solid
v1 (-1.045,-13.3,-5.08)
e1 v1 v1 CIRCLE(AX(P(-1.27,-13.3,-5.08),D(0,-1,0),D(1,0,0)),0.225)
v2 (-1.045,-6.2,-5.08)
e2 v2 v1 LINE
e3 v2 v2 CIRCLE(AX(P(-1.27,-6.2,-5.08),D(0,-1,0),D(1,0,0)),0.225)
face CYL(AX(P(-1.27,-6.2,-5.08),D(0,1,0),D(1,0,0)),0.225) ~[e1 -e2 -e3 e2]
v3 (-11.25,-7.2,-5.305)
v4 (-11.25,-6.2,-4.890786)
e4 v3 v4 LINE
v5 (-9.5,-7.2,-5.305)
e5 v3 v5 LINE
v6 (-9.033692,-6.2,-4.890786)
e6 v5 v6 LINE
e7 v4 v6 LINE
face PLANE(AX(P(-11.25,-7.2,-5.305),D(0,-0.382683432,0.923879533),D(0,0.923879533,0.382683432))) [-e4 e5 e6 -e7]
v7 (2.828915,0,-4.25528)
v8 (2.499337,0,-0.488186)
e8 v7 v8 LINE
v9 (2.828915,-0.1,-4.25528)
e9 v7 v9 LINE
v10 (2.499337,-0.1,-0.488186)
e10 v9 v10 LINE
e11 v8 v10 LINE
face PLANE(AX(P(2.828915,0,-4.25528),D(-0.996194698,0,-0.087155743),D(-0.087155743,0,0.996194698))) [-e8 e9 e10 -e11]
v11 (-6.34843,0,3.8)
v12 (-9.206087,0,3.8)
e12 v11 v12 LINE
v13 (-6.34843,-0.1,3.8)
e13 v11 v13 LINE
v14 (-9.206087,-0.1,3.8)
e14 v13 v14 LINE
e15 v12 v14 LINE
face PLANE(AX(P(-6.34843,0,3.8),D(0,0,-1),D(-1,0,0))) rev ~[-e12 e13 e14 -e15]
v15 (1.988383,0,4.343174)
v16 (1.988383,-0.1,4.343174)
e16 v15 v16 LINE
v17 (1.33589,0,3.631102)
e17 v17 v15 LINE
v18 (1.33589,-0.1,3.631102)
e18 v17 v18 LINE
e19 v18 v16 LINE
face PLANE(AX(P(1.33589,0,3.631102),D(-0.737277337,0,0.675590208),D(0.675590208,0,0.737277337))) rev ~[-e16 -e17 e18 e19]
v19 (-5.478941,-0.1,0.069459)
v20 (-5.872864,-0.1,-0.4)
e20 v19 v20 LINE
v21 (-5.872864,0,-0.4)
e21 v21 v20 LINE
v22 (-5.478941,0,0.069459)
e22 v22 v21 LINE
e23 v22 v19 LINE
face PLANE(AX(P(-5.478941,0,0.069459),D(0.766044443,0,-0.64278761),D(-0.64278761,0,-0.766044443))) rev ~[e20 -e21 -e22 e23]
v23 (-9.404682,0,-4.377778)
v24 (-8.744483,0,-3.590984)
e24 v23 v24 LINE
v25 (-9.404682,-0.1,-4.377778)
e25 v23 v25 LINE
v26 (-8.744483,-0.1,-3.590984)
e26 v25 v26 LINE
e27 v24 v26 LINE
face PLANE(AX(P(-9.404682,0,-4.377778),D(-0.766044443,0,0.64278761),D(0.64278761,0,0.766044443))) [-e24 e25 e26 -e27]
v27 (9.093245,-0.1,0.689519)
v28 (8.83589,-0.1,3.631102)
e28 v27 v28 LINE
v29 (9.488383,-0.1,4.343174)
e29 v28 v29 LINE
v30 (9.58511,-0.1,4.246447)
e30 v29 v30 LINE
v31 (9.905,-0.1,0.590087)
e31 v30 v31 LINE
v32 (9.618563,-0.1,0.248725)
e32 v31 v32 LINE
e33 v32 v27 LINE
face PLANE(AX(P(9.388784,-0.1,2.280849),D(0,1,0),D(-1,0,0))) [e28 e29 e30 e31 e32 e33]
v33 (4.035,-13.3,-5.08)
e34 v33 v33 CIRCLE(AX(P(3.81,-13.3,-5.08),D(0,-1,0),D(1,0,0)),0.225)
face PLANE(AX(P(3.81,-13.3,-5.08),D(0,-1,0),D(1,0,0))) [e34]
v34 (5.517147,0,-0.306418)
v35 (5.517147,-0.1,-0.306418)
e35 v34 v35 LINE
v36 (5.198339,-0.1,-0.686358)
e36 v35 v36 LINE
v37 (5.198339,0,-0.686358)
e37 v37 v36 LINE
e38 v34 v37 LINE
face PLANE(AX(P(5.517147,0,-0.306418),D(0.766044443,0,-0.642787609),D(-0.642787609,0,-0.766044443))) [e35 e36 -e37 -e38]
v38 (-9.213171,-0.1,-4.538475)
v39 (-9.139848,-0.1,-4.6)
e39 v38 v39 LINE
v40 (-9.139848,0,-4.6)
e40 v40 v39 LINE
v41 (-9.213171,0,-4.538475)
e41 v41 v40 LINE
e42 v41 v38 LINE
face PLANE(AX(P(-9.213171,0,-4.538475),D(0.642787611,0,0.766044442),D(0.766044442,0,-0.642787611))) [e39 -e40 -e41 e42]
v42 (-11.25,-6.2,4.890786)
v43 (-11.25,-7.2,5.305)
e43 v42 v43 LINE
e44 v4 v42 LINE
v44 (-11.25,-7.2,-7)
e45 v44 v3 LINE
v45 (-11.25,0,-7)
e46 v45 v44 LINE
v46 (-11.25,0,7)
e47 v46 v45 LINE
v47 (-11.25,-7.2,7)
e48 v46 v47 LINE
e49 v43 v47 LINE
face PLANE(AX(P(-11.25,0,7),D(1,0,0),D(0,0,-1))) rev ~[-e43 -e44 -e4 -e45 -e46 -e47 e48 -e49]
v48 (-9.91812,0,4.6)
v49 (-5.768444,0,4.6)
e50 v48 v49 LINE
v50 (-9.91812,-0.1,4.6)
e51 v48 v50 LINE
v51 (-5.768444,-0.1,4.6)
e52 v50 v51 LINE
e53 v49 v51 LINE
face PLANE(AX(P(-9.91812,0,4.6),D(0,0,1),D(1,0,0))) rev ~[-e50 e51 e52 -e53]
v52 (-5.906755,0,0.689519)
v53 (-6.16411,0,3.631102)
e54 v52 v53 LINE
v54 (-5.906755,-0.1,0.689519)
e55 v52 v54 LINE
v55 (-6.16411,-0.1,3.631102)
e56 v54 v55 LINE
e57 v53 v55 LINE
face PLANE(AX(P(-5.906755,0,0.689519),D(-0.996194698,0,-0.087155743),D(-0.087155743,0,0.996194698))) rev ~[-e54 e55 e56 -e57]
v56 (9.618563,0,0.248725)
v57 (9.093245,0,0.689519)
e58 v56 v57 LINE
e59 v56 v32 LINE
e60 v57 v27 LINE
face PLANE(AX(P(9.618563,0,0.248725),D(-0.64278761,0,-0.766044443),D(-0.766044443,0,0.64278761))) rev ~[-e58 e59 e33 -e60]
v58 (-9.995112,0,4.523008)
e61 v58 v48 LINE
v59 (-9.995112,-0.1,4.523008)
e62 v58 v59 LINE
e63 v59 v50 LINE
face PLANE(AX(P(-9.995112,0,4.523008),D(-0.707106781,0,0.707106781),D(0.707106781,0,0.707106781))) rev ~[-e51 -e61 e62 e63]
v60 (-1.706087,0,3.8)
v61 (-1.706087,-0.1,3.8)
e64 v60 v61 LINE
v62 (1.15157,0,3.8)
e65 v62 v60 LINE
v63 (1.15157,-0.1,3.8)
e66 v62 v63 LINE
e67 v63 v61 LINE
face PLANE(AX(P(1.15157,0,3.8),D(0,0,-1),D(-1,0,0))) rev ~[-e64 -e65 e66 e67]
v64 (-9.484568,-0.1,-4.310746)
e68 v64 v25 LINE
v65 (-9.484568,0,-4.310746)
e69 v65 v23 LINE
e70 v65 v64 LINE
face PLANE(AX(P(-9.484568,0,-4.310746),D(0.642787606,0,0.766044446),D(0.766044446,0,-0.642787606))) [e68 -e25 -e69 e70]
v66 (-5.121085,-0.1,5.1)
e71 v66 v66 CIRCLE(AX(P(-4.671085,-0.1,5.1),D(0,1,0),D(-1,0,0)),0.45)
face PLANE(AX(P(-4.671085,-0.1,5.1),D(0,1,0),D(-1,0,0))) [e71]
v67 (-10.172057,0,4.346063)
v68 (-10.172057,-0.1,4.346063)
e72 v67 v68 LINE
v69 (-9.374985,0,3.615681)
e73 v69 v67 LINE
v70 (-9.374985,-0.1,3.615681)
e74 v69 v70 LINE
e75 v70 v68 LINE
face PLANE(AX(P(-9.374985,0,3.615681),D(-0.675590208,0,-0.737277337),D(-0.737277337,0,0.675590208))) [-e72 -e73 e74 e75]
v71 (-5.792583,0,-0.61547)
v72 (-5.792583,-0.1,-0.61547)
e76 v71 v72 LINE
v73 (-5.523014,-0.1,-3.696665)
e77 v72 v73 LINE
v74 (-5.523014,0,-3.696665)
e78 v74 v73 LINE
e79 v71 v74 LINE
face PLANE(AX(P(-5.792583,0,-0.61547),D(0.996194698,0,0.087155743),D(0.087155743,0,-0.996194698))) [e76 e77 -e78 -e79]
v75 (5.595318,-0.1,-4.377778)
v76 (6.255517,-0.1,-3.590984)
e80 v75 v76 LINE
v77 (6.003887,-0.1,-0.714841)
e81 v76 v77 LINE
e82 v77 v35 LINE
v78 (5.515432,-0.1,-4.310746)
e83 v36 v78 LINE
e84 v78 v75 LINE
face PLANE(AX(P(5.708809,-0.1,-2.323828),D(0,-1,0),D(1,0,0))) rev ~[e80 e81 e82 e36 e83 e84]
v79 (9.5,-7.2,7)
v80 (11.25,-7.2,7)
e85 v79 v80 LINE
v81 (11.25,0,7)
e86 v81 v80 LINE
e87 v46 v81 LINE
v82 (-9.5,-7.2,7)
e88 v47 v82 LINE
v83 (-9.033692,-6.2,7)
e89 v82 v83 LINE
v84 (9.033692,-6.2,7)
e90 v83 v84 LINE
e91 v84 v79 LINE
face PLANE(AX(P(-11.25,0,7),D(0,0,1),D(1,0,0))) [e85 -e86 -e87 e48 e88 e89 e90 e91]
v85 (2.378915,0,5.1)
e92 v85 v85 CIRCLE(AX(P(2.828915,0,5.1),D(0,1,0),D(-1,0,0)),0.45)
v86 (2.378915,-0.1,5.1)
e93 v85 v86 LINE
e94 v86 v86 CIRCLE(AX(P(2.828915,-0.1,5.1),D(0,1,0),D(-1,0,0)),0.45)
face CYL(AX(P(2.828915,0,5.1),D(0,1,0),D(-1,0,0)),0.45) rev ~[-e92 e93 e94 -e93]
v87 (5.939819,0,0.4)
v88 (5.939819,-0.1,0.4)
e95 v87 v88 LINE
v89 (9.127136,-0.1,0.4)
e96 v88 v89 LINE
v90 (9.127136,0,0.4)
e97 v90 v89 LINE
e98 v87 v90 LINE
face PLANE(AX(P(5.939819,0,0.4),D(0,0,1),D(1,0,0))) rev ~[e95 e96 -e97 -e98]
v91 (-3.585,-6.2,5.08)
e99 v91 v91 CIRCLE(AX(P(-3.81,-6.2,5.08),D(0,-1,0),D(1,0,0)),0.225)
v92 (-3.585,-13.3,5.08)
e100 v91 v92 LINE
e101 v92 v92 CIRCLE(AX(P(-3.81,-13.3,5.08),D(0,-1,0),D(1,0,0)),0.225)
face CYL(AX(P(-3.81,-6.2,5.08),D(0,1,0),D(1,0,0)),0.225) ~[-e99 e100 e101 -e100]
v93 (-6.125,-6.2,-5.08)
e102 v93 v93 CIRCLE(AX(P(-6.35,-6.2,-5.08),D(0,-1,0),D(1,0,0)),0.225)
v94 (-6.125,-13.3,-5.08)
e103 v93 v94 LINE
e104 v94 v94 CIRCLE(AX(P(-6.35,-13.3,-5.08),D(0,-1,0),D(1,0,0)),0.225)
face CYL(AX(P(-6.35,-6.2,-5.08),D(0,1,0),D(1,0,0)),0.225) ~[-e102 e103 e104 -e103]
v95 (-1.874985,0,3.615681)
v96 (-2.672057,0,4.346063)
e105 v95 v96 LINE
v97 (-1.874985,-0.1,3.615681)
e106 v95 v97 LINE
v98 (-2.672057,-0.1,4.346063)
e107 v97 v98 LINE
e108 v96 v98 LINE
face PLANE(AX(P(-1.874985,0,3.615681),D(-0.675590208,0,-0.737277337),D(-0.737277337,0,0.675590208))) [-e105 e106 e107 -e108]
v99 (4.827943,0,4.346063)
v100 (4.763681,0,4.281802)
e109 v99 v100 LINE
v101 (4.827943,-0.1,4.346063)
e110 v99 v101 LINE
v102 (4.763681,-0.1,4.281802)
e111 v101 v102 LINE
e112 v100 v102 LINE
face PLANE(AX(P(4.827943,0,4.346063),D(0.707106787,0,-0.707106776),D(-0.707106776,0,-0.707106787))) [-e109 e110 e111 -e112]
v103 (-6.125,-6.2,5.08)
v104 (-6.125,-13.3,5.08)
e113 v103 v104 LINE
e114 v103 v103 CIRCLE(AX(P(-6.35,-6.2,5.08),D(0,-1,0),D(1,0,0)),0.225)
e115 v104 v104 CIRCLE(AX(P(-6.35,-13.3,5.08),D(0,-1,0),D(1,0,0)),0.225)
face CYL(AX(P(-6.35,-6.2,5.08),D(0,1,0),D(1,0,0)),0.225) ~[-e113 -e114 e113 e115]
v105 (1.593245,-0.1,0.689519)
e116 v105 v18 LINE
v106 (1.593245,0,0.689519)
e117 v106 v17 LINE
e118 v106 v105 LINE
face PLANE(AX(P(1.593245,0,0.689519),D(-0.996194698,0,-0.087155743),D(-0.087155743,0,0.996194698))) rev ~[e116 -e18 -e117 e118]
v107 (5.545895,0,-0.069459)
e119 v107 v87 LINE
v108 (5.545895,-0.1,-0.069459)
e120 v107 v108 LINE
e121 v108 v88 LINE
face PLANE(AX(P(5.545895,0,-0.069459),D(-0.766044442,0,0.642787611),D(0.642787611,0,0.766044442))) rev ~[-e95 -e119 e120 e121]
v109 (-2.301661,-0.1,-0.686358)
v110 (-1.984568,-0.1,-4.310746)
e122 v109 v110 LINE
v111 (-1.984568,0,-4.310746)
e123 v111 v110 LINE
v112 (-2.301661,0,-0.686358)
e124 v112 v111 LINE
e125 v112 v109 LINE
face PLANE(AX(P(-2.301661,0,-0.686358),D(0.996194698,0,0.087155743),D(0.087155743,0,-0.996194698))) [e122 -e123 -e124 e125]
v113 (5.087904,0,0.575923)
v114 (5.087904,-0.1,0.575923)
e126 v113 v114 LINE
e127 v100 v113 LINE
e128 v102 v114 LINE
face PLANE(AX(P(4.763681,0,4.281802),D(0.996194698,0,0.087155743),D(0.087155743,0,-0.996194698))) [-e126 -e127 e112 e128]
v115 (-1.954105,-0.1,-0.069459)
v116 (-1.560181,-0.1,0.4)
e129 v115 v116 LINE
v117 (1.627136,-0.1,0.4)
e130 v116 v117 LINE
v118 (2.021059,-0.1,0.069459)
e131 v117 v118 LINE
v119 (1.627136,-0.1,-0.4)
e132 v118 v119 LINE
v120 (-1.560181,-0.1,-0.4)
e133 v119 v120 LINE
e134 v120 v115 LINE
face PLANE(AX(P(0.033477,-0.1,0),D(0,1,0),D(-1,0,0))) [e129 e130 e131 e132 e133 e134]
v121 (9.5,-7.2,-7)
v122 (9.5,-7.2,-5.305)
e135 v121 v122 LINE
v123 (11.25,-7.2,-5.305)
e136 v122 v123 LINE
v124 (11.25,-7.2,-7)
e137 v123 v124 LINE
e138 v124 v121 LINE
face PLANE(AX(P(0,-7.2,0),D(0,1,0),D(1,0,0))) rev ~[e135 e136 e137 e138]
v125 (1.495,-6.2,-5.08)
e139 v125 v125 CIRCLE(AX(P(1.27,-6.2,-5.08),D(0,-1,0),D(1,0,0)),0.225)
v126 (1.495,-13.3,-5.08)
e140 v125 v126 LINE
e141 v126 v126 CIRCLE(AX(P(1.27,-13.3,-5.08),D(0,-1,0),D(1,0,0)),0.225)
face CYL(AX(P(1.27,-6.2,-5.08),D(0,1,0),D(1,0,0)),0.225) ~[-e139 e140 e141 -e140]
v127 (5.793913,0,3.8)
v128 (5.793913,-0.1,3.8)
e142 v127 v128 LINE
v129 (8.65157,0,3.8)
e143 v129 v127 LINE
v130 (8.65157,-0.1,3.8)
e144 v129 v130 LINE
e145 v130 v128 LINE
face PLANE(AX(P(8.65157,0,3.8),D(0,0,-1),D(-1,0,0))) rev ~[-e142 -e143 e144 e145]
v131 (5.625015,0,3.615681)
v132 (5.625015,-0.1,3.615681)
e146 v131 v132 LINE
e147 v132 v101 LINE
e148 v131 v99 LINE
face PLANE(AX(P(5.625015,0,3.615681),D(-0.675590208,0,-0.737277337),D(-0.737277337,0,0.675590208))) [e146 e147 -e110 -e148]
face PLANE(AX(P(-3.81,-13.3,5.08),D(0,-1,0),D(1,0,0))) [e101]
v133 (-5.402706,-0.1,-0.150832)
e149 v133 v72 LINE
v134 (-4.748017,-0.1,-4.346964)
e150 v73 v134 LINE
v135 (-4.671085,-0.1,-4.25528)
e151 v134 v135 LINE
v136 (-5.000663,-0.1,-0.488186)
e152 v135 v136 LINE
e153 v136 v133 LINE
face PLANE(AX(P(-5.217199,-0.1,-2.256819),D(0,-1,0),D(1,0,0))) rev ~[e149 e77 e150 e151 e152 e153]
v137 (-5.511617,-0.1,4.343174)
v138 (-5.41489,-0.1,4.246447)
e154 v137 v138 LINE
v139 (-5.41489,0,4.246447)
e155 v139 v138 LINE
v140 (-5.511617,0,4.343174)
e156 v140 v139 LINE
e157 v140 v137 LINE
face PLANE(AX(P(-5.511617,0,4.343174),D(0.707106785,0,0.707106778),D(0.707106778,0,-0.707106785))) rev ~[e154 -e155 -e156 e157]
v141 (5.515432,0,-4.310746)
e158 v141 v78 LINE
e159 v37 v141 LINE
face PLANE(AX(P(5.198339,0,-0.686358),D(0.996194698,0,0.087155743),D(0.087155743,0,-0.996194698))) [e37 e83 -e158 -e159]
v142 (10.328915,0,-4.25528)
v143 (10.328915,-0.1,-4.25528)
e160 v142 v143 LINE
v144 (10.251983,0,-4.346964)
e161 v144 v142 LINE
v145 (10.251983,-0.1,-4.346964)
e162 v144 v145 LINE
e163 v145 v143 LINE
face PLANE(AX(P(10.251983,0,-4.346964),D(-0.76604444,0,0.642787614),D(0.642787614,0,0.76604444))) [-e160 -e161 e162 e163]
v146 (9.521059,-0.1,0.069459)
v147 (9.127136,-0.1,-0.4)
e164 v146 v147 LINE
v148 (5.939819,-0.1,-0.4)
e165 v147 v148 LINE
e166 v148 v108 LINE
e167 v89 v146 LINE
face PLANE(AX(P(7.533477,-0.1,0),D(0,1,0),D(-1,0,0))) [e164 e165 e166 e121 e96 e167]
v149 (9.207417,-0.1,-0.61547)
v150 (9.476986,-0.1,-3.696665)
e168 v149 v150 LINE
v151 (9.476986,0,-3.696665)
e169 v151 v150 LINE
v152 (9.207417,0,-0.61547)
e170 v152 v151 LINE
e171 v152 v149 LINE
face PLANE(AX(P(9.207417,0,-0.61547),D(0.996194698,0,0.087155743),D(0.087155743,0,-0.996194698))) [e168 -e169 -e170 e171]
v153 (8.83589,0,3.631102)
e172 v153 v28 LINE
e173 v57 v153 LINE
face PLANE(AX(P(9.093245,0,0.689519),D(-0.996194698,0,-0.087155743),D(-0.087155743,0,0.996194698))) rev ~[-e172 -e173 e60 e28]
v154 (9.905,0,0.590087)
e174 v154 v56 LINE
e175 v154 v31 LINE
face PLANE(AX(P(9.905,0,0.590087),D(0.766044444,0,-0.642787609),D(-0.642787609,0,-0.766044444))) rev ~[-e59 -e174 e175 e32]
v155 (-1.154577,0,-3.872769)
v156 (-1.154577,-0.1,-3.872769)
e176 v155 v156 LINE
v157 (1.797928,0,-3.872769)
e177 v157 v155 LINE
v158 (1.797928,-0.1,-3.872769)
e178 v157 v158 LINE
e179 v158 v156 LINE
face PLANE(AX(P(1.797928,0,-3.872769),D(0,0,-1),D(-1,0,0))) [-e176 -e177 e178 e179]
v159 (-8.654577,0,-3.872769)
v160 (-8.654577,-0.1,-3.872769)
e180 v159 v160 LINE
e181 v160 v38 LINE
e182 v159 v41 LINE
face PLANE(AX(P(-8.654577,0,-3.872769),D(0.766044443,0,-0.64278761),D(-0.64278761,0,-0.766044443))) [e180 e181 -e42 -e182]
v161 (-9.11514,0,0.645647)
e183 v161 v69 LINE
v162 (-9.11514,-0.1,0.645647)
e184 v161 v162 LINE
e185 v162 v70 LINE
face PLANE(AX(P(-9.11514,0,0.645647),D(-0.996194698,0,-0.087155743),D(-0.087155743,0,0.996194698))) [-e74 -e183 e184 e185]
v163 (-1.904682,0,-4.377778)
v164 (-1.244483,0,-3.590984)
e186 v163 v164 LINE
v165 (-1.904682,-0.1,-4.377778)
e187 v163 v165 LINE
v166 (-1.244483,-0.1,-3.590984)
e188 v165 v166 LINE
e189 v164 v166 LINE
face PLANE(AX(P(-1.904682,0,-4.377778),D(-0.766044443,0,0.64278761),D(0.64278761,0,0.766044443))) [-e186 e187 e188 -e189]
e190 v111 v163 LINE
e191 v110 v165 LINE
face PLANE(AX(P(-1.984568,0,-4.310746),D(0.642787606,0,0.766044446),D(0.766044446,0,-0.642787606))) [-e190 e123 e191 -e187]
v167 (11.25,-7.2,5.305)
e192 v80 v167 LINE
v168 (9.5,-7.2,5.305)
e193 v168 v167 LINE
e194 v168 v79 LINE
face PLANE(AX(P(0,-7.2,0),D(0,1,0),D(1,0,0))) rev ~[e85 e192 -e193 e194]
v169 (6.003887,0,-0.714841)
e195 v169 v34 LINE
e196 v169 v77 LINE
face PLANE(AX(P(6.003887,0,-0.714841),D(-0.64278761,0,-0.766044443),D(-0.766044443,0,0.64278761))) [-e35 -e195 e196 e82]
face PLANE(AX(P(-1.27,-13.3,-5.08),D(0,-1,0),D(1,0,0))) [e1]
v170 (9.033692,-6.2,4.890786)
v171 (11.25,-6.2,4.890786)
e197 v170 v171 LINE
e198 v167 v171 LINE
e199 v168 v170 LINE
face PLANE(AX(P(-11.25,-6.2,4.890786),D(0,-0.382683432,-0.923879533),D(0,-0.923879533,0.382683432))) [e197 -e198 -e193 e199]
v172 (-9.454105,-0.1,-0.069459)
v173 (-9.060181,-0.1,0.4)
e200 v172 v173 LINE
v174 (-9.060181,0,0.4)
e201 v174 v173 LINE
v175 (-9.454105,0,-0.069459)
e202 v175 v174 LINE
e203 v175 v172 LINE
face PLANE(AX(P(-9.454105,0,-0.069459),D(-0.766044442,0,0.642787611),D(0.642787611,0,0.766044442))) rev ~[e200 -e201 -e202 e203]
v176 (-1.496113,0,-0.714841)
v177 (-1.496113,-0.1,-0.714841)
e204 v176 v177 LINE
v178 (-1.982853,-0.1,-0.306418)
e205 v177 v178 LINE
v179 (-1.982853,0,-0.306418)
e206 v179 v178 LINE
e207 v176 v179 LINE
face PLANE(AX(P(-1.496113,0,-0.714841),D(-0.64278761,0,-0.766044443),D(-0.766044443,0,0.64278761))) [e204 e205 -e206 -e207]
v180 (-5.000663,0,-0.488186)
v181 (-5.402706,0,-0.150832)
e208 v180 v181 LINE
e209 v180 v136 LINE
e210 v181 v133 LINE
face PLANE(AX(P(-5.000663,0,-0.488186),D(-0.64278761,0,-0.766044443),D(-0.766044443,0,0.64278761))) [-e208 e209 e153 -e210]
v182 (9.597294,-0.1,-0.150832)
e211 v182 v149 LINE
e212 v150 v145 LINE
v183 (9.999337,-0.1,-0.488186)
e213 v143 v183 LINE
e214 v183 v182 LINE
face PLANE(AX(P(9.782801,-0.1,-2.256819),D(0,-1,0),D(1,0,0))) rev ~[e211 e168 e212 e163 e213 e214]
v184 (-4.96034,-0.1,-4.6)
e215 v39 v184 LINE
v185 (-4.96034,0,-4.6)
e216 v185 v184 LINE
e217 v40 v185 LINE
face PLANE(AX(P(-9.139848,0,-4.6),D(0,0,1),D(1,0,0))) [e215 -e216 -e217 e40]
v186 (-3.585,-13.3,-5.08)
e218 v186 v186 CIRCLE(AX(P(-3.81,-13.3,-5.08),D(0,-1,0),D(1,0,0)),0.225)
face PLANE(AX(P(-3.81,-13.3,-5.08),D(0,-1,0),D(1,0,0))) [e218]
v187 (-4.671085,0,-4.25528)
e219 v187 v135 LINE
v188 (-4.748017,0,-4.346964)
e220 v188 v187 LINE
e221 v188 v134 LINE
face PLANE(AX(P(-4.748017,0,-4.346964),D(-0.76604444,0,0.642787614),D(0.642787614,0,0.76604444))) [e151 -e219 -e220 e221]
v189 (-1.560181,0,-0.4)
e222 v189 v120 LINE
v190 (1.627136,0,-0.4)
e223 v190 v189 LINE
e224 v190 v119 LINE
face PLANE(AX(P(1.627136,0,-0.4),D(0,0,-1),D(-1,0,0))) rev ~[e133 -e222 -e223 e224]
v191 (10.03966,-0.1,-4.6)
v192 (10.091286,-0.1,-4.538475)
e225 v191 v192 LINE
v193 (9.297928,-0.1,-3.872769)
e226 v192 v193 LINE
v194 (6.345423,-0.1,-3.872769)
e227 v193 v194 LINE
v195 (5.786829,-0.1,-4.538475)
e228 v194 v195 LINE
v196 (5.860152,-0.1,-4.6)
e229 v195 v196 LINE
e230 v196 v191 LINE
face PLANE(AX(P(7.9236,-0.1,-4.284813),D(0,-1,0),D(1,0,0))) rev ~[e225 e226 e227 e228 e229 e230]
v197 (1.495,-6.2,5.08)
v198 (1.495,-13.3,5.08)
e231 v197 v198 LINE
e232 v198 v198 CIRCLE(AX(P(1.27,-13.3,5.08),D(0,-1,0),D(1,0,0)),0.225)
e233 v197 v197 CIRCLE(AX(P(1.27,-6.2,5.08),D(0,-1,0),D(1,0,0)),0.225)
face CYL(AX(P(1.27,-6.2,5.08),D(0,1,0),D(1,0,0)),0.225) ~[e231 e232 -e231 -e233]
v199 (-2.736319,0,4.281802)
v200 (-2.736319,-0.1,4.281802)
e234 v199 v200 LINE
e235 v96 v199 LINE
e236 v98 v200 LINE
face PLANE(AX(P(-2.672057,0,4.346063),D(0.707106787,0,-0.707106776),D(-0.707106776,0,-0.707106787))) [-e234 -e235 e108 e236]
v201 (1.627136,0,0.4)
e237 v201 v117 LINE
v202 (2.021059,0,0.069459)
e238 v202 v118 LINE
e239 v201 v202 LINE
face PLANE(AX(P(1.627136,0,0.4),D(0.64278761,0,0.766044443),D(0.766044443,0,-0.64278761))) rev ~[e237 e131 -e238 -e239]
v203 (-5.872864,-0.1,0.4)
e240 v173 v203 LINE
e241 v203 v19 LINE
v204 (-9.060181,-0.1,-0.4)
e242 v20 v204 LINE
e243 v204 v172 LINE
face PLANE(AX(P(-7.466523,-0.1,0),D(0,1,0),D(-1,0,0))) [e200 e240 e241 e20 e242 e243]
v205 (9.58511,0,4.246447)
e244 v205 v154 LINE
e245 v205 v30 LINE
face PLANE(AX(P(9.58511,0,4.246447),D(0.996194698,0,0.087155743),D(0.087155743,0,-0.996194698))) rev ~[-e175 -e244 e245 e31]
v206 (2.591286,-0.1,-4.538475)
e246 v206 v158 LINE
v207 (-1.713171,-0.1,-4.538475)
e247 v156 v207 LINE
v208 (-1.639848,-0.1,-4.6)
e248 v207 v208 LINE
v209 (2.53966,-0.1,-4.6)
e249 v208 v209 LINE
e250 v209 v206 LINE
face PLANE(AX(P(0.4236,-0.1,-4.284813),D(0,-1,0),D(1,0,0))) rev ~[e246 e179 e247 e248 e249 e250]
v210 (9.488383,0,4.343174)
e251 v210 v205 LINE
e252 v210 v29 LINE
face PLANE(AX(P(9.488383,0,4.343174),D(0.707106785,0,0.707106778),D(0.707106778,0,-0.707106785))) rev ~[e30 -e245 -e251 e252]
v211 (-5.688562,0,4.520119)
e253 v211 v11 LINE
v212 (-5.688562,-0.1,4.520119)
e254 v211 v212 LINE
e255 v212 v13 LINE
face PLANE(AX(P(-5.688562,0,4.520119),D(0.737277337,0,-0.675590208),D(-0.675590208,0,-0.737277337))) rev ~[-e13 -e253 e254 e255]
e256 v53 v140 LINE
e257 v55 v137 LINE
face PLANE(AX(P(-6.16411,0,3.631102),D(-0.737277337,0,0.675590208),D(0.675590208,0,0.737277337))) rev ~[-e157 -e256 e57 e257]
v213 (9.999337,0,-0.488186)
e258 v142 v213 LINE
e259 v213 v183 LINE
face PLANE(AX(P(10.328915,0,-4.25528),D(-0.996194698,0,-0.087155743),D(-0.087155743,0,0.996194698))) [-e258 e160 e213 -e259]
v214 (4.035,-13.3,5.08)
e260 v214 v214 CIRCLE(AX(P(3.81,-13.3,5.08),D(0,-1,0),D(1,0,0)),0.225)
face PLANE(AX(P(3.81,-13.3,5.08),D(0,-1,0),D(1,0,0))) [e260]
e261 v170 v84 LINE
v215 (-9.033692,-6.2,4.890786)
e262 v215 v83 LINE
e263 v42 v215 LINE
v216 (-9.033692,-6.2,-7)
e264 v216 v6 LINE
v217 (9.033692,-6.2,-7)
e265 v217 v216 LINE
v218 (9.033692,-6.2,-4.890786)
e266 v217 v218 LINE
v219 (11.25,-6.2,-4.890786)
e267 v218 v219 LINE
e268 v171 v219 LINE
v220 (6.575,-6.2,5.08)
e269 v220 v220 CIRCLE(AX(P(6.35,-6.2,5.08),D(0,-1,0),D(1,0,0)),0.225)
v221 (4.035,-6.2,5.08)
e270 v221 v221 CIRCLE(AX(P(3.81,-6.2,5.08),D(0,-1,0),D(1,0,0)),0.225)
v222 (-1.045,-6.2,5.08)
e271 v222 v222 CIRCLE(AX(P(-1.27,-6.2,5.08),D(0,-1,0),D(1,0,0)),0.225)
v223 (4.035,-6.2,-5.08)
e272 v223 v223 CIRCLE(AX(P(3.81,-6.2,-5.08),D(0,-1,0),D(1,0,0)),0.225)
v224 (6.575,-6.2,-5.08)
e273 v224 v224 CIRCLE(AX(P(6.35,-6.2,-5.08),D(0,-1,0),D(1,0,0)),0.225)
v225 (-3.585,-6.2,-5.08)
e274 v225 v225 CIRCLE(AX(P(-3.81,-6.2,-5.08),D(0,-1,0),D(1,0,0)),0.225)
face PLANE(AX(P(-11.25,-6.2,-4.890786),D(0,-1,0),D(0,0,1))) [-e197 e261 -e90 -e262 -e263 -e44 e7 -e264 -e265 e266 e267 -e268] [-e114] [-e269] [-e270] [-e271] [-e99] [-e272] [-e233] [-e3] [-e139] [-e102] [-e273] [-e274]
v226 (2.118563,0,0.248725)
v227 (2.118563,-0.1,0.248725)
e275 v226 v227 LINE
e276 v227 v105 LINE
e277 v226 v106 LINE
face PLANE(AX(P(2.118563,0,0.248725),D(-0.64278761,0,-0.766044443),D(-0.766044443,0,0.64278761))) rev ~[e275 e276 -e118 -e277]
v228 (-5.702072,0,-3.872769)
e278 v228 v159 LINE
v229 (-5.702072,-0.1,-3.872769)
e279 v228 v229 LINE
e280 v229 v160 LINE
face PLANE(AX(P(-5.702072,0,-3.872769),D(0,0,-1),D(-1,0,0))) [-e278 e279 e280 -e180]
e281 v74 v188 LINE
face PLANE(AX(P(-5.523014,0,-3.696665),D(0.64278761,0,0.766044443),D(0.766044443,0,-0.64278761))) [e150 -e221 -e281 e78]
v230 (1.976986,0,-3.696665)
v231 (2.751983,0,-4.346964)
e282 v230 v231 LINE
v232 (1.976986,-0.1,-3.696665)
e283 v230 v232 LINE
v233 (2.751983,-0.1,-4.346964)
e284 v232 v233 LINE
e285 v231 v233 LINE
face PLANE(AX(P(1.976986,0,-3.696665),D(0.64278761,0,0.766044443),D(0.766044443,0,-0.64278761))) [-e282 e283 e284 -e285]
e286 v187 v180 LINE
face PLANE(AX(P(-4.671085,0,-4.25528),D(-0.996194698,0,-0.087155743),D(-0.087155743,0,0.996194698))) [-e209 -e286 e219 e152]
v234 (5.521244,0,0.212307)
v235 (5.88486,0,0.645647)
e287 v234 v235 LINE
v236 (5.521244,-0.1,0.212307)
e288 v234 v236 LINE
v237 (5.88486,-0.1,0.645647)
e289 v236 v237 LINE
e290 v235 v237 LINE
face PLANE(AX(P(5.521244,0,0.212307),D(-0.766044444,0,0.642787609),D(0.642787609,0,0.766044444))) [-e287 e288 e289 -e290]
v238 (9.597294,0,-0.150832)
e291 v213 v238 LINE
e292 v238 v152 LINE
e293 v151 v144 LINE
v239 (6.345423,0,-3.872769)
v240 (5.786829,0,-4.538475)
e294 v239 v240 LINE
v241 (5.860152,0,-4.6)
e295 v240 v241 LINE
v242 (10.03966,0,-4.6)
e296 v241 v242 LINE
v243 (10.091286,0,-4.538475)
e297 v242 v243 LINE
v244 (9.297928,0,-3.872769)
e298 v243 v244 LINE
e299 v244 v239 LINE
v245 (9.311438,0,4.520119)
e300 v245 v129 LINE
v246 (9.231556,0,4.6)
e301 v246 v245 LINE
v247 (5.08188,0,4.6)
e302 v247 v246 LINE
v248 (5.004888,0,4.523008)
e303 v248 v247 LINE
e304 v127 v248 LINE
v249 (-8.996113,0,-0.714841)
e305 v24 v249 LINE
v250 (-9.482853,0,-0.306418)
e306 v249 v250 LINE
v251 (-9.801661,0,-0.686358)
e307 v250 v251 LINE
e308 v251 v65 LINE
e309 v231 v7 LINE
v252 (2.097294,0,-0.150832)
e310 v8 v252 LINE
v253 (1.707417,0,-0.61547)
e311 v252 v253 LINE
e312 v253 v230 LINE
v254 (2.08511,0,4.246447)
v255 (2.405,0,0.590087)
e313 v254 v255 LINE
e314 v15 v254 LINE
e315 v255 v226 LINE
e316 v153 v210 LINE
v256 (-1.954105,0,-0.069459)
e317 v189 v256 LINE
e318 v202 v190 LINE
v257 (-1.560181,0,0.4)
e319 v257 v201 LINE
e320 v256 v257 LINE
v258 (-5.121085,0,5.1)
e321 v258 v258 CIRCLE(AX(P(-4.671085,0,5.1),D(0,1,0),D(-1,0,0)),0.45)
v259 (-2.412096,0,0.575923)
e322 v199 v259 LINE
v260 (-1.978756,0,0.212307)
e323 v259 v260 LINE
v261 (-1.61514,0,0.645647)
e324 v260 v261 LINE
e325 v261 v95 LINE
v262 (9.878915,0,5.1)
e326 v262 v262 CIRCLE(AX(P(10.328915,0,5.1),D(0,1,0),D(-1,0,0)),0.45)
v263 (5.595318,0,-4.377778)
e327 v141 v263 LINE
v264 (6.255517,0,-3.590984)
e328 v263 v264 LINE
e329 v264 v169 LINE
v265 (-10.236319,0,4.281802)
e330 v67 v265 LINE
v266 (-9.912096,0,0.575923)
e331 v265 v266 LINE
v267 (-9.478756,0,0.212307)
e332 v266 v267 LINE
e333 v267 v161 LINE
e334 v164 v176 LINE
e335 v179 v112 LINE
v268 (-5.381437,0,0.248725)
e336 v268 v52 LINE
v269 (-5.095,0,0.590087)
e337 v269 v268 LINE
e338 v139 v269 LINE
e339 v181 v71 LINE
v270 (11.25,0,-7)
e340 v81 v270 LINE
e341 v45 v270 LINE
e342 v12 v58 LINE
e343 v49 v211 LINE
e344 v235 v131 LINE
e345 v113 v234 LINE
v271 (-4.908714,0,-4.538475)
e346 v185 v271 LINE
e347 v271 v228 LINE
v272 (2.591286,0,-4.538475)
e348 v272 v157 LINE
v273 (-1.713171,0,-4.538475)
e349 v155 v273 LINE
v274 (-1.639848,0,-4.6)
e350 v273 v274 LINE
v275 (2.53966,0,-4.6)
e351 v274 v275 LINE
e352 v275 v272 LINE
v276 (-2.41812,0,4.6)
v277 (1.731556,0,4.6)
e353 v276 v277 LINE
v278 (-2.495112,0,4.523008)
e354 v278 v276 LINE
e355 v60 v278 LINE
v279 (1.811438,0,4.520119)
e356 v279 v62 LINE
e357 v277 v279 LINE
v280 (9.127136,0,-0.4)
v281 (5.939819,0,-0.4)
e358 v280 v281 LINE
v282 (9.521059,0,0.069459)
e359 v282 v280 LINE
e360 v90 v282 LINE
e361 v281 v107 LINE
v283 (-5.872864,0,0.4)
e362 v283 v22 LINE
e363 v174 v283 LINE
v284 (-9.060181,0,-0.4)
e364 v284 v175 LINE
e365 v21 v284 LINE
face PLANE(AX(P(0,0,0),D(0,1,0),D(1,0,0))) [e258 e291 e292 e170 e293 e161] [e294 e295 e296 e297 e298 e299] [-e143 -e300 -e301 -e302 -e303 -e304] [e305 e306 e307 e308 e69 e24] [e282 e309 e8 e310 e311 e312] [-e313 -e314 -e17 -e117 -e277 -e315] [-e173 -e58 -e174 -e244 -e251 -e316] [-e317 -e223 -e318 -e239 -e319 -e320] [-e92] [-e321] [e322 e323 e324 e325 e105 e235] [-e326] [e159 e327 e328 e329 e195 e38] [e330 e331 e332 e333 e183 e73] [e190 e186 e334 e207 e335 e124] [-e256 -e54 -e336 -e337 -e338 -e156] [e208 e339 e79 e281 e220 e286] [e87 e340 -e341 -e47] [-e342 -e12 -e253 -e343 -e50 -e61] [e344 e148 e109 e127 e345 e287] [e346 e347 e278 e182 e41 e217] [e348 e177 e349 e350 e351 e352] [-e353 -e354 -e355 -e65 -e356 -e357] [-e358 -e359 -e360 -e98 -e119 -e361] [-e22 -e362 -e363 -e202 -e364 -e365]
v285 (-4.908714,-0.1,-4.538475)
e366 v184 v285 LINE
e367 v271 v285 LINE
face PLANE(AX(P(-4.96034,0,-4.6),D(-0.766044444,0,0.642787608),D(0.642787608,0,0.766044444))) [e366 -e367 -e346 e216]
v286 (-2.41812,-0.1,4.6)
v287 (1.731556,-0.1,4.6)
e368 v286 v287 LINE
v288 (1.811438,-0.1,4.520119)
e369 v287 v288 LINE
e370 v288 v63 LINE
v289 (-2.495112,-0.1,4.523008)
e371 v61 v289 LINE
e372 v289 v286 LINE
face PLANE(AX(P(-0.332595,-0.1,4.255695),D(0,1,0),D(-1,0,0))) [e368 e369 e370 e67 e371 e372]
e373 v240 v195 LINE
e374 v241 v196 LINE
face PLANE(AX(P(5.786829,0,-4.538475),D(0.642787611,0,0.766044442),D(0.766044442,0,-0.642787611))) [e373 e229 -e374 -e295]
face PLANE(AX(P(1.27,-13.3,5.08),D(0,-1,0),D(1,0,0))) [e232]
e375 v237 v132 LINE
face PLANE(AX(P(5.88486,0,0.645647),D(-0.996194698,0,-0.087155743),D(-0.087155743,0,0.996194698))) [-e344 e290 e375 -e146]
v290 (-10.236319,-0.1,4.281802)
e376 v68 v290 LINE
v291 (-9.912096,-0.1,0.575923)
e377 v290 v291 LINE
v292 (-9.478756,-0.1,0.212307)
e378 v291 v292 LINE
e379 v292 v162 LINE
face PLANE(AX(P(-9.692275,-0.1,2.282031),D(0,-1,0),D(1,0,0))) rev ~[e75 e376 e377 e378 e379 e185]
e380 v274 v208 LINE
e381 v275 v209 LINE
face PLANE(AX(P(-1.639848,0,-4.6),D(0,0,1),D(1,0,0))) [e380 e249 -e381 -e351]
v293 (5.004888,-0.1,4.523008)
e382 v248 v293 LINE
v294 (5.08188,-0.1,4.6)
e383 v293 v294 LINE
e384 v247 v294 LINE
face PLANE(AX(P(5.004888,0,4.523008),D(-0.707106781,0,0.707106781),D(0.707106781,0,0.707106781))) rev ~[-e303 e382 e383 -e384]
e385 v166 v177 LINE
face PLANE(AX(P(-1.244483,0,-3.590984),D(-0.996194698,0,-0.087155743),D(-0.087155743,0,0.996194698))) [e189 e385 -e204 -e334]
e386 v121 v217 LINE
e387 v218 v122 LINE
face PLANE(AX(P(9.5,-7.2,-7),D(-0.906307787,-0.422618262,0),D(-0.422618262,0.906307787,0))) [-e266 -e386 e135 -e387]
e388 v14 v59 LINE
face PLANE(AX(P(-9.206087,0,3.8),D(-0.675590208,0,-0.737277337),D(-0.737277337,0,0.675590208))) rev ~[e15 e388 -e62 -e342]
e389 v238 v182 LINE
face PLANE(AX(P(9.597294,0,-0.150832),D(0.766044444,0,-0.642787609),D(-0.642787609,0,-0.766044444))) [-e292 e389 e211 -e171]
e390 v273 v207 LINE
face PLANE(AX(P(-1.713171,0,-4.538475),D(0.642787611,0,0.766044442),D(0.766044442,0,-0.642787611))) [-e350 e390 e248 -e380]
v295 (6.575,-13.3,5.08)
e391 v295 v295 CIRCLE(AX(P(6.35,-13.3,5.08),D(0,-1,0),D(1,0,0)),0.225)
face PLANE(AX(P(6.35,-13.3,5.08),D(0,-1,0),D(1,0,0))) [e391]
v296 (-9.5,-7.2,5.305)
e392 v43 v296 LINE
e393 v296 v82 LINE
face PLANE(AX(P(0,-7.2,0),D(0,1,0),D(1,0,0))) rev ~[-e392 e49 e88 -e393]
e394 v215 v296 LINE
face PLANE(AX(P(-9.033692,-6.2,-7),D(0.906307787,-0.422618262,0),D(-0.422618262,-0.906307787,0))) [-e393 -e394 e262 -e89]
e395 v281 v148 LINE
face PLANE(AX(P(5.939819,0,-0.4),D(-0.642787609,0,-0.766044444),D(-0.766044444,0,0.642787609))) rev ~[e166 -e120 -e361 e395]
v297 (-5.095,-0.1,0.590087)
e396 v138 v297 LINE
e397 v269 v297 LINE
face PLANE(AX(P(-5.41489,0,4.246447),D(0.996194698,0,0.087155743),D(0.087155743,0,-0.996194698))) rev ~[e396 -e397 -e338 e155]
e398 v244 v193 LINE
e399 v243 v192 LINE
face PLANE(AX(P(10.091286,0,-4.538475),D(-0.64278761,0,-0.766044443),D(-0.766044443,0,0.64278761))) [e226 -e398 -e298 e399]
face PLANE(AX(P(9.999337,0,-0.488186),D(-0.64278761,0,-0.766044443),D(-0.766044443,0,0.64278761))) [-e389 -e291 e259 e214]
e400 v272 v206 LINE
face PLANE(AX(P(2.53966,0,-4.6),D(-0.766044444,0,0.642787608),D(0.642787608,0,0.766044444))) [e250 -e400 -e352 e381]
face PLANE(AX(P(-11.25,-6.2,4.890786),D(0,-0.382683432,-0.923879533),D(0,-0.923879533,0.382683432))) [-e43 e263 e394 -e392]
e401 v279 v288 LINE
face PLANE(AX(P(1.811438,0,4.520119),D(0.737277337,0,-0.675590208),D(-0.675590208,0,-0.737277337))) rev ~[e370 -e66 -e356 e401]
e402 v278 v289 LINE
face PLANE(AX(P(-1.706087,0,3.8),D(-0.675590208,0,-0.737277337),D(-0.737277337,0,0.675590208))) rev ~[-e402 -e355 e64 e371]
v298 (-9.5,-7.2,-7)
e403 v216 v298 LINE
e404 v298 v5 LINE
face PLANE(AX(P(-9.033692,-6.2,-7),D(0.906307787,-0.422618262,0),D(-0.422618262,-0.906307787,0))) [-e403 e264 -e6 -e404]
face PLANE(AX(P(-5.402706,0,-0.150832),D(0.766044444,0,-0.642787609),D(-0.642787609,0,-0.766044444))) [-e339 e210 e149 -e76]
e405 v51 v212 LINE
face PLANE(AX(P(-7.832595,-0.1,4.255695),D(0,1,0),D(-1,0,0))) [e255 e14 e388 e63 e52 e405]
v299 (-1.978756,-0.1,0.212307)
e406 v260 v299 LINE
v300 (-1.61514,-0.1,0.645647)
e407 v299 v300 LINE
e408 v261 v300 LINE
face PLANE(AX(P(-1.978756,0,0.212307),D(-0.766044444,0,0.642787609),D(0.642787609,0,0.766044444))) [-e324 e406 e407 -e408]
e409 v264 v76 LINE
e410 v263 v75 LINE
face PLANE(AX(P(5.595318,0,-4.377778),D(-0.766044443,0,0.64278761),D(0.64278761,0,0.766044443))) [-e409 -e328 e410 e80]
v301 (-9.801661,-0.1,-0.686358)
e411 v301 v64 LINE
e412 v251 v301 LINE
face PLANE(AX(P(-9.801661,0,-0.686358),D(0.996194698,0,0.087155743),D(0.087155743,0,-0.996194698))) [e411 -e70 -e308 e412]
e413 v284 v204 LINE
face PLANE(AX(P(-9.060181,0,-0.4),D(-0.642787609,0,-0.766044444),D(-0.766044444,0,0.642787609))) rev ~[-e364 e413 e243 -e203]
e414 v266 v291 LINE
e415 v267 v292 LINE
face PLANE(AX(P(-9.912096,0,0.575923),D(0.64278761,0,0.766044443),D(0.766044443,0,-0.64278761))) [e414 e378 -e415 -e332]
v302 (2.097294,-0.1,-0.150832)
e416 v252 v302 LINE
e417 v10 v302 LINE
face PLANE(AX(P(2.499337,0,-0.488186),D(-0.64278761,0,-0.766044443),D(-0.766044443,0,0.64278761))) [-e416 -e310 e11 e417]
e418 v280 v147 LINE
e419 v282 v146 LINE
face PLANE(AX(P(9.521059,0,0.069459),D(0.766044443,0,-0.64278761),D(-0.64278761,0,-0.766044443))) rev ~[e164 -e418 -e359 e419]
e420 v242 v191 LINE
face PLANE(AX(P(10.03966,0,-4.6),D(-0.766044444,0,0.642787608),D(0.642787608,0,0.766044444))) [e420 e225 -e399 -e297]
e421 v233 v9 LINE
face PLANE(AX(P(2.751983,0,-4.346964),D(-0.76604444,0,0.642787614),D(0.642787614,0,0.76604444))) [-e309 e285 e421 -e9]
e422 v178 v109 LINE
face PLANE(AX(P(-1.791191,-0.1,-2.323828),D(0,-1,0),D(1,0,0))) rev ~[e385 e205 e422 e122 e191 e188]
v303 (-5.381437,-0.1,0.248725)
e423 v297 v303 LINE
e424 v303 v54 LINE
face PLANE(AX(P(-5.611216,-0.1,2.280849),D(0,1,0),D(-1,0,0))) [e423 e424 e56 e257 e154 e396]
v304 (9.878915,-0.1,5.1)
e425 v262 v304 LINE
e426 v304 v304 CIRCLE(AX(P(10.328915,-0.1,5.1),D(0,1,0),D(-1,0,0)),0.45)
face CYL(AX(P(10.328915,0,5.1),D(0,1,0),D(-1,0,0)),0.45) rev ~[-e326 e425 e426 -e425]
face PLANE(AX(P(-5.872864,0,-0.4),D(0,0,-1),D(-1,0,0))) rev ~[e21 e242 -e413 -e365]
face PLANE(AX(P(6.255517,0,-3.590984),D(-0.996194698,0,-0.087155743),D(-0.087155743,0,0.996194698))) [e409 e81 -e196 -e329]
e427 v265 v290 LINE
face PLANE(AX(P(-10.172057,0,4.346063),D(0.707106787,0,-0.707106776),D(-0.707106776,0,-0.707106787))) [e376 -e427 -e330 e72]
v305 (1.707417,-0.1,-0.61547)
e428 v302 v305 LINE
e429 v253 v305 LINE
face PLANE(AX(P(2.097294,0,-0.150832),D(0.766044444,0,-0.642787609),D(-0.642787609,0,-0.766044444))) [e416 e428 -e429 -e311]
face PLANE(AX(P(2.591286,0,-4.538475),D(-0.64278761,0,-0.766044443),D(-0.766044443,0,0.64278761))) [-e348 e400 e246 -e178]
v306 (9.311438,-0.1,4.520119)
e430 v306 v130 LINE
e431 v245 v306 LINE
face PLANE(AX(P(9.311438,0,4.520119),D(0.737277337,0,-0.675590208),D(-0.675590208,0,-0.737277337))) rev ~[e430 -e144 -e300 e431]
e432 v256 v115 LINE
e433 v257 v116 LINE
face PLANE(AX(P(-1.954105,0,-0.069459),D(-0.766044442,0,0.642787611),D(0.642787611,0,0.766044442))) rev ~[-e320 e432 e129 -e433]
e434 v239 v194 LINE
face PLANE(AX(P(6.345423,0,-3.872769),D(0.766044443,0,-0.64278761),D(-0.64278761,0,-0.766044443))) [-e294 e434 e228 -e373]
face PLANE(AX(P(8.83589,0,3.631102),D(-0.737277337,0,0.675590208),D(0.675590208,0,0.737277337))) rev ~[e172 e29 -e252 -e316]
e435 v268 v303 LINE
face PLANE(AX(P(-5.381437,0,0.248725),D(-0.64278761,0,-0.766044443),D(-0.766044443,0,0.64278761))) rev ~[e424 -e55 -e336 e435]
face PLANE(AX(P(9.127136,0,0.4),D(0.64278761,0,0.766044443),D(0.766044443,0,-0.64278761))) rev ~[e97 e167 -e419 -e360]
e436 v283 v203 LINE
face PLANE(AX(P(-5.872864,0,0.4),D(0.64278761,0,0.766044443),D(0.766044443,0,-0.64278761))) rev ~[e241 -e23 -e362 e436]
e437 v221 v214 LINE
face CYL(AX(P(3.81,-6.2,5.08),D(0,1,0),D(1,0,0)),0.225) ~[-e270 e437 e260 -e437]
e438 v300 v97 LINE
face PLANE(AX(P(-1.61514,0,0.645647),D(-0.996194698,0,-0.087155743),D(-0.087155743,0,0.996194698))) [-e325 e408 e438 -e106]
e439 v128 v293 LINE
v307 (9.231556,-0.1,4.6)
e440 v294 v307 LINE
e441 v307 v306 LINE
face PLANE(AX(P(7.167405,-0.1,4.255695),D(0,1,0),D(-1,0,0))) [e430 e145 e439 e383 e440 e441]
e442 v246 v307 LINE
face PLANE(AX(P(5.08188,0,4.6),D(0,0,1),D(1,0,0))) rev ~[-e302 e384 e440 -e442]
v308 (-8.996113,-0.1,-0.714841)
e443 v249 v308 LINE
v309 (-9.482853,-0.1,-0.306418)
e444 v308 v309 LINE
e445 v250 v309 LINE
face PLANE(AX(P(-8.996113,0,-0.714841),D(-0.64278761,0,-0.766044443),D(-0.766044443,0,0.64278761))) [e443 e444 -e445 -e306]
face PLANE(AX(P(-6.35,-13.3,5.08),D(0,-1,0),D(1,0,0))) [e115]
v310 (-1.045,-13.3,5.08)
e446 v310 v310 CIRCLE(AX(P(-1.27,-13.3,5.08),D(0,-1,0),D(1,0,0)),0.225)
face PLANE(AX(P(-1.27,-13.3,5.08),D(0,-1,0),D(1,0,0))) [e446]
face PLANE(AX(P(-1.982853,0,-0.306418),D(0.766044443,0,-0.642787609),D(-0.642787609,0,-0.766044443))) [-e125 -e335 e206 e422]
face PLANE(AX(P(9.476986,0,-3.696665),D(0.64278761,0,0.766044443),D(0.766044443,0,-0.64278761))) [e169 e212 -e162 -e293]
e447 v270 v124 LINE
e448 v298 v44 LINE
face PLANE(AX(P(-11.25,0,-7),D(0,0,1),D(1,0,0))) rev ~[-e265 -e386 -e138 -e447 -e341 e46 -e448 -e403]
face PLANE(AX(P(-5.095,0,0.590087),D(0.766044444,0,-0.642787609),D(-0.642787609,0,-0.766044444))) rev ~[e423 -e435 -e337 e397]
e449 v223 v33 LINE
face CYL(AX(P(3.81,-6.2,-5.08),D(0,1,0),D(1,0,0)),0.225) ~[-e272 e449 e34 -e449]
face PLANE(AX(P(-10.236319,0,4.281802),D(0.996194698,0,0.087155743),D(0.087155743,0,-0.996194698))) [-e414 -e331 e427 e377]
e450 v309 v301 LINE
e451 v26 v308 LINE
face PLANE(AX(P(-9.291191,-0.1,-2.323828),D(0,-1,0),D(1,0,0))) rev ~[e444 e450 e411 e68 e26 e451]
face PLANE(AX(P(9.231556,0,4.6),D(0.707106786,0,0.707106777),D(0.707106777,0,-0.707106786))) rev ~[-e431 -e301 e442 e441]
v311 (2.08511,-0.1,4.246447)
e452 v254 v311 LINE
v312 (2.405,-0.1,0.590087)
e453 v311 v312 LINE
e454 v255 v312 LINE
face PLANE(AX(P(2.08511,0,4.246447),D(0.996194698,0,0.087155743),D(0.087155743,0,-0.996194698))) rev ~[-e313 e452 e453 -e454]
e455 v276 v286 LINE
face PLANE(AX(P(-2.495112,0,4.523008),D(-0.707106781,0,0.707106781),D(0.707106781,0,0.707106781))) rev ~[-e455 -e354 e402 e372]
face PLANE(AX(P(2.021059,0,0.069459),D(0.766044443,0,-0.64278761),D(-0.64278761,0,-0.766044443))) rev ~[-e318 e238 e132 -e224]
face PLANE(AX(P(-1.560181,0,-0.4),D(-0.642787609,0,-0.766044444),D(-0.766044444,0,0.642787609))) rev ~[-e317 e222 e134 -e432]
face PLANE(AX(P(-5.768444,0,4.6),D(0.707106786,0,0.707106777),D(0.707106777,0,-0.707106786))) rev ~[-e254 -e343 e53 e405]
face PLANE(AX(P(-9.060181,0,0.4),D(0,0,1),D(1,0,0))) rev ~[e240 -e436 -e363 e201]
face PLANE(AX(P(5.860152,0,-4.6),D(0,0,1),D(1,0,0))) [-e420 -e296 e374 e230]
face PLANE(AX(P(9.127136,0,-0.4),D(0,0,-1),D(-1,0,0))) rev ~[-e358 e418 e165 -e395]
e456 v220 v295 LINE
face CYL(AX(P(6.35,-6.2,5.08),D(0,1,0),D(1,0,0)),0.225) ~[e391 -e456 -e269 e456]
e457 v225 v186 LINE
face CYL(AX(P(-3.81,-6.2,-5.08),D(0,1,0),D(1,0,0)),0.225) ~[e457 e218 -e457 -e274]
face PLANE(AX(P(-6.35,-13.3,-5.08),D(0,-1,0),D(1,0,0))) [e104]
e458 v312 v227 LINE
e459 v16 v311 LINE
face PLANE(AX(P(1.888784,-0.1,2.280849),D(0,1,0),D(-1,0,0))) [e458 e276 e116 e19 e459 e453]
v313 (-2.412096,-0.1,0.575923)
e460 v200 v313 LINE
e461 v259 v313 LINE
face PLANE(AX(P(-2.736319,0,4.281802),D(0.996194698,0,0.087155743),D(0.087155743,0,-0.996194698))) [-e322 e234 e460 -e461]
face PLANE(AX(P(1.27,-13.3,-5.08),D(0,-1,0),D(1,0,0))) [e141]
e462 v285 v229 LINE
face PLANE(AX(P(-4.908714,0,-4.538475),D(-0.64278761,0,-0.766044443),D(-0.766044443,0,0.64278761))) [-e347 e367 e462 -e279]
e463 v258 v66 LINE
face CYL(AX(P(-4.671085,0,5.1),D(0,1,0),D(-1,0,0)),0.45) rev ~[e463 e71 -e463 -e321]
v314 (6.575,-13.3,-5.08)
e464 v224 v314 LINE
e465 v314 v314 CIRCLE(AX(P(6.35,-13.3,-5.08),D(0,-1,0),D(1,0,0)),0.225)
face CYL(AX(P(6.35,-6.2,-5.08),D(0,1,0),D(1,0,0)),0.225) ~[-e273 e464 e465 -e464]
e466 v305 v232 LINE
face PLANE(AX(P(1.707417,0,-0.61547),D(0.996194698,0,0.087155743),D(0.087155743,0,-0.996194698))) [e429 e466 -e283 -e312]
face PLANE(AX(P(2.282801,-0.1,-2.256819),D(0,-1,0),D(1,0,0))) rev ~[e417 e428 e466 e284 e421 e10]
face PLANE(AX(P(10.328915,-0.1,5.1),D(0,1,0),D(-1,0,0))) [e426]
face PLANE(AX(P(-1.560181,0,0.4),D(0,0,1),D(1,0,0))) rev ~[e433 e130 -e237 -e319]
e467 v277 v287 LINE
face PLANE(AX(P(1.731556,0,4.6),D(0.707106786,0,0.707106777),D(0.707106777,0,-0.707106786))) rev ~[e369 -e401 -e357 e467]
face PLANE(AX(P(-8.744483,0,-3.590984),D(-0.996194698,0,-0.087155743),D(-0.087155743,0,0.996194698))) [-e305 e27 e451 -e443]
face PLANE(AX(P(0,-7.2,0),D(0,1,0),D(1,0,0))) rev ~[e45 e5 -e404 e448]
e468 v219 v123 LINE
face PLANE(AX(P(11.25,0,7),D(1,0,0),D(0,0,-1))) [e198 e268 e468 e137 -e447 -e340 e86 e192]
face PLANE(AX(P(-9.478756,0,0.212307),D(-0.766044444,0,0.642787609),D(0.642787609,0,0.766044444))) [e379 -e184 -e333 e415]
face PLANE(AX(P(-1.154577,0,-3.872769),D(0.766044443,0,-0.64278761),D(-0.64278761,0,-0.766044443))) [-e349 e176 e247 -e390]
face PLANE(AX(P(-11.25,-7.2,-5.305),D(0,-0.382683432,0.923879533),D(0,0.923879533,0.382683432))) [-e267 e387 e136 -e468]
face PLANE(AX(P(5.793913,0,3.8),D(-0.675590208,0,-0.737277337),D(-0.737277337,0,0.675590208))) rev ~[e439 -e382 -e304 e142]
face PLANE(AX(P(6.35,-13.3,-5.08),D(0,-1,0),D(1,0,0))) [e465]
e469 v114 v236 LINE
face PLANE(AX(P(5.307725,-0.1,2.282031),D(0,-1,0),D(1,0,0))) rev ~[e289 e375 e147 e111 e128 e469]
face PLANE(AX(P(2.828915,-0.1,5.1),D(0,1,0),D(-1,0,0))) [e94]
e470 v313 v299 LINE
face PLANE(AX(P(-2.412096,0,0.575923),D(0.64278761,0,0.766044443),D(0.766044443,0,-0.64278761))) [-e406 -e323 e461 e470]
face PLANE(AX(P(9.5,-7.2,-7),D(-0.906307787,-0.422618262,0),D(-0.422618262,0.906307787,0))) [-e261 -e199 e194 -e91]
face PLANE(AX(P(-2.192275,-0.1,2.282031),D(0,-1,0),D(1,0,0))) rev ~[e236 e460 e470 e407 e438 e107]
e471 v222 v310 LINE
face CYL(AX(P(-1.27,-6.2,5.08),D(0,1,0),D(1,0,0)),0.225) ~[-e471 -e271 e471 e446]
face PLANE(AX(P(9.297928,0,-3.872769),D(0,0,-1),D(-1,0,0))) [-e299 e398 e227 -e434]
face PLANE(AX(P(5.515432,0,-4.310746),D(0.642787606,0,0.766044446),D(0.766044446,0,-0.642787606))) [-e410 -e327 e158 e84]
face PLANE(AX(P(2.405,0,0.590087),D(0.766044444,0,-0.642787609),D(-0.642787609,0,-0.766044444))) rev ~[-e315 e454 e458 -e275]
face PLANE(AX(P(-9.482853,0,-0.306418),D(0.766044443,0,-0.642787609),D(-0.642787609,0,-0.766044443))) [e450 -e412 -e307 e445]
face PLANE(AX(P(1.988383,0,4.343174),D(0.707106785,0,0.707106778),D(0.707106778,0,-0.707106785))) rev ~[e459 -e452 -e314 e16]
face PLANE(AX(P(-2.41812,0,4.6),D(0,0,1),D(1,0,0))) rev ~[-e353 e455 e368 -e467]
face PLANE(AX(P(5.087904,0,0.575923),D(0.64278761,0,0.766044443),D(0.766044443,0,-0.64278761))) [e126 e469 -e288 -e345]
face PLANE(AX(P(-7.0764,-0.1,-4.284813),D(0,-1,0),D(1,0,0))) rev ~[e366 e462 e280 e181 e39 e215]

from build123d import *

# Parameters (mm, degrees)
SKETCH1_W               = 22.5
SKETCH1_H               = 14
EXTRUDE1_DEPTH          = 7.2
SKETCH6_R               = 0.45
CUT_EXTRUDE1_DEPTH      = 0.1
CUT_EXTRUDE2_DEPTH      = 1
CUT_EXTRUDE2_DEPTH_BACK = 23.5
CUT_EXTRUDE3_DEPTH      = 1
CUT_EXTRUDE3_DEPTH_BACK = 15
LPATTERN1_COUNT         = 2
LPATTERN1_PITCH         = 7.5
LPATTERN2_COUNT         = 2
LPATTERN2_PITCH         = 7.5
BOSS_EXTRUDE4_START     = -1
SKETCH11_R              = 0.225
BOSS_EXTRUDE4_DEPTH     = 7.1
LPATTERN3_COUNT         = 6
LPATTERN3_PITCH         = 2.54
LPATTERN3_COUNT_DIR2    = 2
LPATTERN3_PITCH_DIR2    = 10.16


with BuildPart() as part:
    # Sketch1 → Extrude1 (new body)
    with BuildSketch(Plane(origin=(0, 0, 0), x_dir=(1, 0, 0), z_dir=(0, 1, 0))):
        Rectangle(SKETCH1_W, SKETCH1_H)
    extrude(amount=-EXTRUDE1_DEPTH)

    # Sketch6 → Cut-Extrude1 (cut)
    with BuildSketch(Plane(origin=(0, 0, 0), x_dir=(-1, 0, 0), z_dir=(0, 1, 0))):
        with Locations((-2.828914589, 5.1)):
            Circle(SKETCH6_R)
        Polygon((1.615140342, 0.645647316), (1.874984591, 3.615680666), (2.672057265, 4.346063205), (2.736318521, 4.281801948), (2.412096101, 0.575922722), (1.978755924, 0.212307139), align=None)
        Polygon((-2.08510989, 4.246446609), (-2.404999919, 0.590086851), (-2.118563171, 0.248724827), (-1.593244842, 0.689519243), (-1.335889658, 3.631102448), (-1.988382771, 4.343173729), align=None)
        Polygon((-2.751982586, -4.346963991), (-2.828914589, -4.255280001), (-2.499336567, -0.488185972), (-2.097293847, -0.150832074), (-1.707416581, -0.615469707), (-1.976986224, -3.696664829), align=None)
        Polygon((-2.591285684, -4.538475102), (-1.79792785, -3.872768836), (1.154576659, -3.872768836), (1.713170541, -4.538475102), (1.639848023, -4.6), (-2.539660165, -4.6), align=None)
        Polygon((1.560181456, -0.4), (1.954104558, -0.069459271), (1.560181456, 0.4), (-1.627135675, 0.4), (-2.021058776, 0.069459271), (-1.627135675, -0.4), align=None)
        Polygon((2.495112157, 4.523008313), (2.41812047, 4.6), (-1.7315565, 4.6), (-1.811437663, 4.520118836), (-1.151570324, 3.8), (1.706087039, 3.8), align=None)
        Polygon((1.982853172, -0.306417777), (2.30166085, -0.686357973), (1.984568022, -4.310745576), (1.904681652, -4.377778199), (1.244483112, -3.590984217), (1.496113015, -0.714841264), align=None)
    cut_extrude1 = extrude(amount=-CUT_EXTRUDE1_DEPTH, mode=Mode.SUBTRACT)

    # Sketch12 → Cut-Extrude2 (cut, two sides)
    with BuildSketch(Plane.ZY.offset(11.25)) as cut_extrude2_sk:
        Polygon((-20.043427491, -42.781711537), (-5.305, -7.2), (-4.890786438, -6.2), (4.890786438, -6.2), (5.305, -7.2), (20.043427491, -42.781711537), (20.043427491, -119.808445619), (-20.043427491, -119.808445619), align=None)
    extrude(amount=CUT_EXTRUDE2_DEPTH, mode=Mode.SUBTRACT)
    extrude(cut_extrude2_sk.sketch, amount=-CUT_EXTRUDE2_DEPTH_BACK, mode=Mode.SUBTRACT)

    # Sketch13 → Cut-Extrude3 (cut, two sides)
    with BuildSketch(Plane(origin=(0, 0, -7), x_dir=(-1, 0, 0), z_dir=(0, 0, -1))) as cut_extrude3_sk:
        Polygon((-32.290672921, -56.074755802), (-9.5, -7.2), (-9.033692342, -6.2), (9.033692342, -6.2), (9.5, -7.2), (32.290672921, -56.074755802), (32.290672921, -163.929408496), (-32.290672921, -163.929408496), align=None)
    extrude(amount=CUT_EXTRUDE3_DEPTH, mode=Mode.SUBTRACT)
    extrude(cut_extrude3_sk.sketch, amount=-CUT_EXTRUDE3_DEPTH_BACK, mode=Mode.SUBTRACT)

    # LPattern1: Cut-Extrude1 ×2
    with Locations(*[(i * LPATTERN1_PITCH, 0, 0) for i in range(1, LPATTERN1_COUNT)]):
        add(cut_extrude1, mode=Mode.SUBTRACT)

    # LPattern2: Cut-Extrude1 ×2
    with Locations(*[(-i * LPATTERN2_PITCH, 0, 0) for i in range(1, LPATTERN2_COUNT)]):
        add(cut_extrude1, mode=Mode.SUBTRACT)

    # Sketch11 → Boss-Extrude4 (add)
    with BuildSketch(Plane.XZ.offset(7.2).offset(BOSS_EXTRUDE4_START)):
        with Locations((6.35, 5.08)):
            Circle(SKETCH11_R)
    boss_extrude4 = extrude(amount=BOSS_EXTRUDE4_DEPTH)

    # LPattern3: Boss-Extrude4 6 × 2
    with Locations(*[(-i * LPATTERN3_PITCH, 0, -j * LPATTERN3_PITCH_DIR2) for i in range(LPATTERN3_COUNT) for j in range(LPATTERN3_COUNT_DIR2) if (i, j) != (0, 0)]):
        add(boss_extrude4)


solid = part.part
